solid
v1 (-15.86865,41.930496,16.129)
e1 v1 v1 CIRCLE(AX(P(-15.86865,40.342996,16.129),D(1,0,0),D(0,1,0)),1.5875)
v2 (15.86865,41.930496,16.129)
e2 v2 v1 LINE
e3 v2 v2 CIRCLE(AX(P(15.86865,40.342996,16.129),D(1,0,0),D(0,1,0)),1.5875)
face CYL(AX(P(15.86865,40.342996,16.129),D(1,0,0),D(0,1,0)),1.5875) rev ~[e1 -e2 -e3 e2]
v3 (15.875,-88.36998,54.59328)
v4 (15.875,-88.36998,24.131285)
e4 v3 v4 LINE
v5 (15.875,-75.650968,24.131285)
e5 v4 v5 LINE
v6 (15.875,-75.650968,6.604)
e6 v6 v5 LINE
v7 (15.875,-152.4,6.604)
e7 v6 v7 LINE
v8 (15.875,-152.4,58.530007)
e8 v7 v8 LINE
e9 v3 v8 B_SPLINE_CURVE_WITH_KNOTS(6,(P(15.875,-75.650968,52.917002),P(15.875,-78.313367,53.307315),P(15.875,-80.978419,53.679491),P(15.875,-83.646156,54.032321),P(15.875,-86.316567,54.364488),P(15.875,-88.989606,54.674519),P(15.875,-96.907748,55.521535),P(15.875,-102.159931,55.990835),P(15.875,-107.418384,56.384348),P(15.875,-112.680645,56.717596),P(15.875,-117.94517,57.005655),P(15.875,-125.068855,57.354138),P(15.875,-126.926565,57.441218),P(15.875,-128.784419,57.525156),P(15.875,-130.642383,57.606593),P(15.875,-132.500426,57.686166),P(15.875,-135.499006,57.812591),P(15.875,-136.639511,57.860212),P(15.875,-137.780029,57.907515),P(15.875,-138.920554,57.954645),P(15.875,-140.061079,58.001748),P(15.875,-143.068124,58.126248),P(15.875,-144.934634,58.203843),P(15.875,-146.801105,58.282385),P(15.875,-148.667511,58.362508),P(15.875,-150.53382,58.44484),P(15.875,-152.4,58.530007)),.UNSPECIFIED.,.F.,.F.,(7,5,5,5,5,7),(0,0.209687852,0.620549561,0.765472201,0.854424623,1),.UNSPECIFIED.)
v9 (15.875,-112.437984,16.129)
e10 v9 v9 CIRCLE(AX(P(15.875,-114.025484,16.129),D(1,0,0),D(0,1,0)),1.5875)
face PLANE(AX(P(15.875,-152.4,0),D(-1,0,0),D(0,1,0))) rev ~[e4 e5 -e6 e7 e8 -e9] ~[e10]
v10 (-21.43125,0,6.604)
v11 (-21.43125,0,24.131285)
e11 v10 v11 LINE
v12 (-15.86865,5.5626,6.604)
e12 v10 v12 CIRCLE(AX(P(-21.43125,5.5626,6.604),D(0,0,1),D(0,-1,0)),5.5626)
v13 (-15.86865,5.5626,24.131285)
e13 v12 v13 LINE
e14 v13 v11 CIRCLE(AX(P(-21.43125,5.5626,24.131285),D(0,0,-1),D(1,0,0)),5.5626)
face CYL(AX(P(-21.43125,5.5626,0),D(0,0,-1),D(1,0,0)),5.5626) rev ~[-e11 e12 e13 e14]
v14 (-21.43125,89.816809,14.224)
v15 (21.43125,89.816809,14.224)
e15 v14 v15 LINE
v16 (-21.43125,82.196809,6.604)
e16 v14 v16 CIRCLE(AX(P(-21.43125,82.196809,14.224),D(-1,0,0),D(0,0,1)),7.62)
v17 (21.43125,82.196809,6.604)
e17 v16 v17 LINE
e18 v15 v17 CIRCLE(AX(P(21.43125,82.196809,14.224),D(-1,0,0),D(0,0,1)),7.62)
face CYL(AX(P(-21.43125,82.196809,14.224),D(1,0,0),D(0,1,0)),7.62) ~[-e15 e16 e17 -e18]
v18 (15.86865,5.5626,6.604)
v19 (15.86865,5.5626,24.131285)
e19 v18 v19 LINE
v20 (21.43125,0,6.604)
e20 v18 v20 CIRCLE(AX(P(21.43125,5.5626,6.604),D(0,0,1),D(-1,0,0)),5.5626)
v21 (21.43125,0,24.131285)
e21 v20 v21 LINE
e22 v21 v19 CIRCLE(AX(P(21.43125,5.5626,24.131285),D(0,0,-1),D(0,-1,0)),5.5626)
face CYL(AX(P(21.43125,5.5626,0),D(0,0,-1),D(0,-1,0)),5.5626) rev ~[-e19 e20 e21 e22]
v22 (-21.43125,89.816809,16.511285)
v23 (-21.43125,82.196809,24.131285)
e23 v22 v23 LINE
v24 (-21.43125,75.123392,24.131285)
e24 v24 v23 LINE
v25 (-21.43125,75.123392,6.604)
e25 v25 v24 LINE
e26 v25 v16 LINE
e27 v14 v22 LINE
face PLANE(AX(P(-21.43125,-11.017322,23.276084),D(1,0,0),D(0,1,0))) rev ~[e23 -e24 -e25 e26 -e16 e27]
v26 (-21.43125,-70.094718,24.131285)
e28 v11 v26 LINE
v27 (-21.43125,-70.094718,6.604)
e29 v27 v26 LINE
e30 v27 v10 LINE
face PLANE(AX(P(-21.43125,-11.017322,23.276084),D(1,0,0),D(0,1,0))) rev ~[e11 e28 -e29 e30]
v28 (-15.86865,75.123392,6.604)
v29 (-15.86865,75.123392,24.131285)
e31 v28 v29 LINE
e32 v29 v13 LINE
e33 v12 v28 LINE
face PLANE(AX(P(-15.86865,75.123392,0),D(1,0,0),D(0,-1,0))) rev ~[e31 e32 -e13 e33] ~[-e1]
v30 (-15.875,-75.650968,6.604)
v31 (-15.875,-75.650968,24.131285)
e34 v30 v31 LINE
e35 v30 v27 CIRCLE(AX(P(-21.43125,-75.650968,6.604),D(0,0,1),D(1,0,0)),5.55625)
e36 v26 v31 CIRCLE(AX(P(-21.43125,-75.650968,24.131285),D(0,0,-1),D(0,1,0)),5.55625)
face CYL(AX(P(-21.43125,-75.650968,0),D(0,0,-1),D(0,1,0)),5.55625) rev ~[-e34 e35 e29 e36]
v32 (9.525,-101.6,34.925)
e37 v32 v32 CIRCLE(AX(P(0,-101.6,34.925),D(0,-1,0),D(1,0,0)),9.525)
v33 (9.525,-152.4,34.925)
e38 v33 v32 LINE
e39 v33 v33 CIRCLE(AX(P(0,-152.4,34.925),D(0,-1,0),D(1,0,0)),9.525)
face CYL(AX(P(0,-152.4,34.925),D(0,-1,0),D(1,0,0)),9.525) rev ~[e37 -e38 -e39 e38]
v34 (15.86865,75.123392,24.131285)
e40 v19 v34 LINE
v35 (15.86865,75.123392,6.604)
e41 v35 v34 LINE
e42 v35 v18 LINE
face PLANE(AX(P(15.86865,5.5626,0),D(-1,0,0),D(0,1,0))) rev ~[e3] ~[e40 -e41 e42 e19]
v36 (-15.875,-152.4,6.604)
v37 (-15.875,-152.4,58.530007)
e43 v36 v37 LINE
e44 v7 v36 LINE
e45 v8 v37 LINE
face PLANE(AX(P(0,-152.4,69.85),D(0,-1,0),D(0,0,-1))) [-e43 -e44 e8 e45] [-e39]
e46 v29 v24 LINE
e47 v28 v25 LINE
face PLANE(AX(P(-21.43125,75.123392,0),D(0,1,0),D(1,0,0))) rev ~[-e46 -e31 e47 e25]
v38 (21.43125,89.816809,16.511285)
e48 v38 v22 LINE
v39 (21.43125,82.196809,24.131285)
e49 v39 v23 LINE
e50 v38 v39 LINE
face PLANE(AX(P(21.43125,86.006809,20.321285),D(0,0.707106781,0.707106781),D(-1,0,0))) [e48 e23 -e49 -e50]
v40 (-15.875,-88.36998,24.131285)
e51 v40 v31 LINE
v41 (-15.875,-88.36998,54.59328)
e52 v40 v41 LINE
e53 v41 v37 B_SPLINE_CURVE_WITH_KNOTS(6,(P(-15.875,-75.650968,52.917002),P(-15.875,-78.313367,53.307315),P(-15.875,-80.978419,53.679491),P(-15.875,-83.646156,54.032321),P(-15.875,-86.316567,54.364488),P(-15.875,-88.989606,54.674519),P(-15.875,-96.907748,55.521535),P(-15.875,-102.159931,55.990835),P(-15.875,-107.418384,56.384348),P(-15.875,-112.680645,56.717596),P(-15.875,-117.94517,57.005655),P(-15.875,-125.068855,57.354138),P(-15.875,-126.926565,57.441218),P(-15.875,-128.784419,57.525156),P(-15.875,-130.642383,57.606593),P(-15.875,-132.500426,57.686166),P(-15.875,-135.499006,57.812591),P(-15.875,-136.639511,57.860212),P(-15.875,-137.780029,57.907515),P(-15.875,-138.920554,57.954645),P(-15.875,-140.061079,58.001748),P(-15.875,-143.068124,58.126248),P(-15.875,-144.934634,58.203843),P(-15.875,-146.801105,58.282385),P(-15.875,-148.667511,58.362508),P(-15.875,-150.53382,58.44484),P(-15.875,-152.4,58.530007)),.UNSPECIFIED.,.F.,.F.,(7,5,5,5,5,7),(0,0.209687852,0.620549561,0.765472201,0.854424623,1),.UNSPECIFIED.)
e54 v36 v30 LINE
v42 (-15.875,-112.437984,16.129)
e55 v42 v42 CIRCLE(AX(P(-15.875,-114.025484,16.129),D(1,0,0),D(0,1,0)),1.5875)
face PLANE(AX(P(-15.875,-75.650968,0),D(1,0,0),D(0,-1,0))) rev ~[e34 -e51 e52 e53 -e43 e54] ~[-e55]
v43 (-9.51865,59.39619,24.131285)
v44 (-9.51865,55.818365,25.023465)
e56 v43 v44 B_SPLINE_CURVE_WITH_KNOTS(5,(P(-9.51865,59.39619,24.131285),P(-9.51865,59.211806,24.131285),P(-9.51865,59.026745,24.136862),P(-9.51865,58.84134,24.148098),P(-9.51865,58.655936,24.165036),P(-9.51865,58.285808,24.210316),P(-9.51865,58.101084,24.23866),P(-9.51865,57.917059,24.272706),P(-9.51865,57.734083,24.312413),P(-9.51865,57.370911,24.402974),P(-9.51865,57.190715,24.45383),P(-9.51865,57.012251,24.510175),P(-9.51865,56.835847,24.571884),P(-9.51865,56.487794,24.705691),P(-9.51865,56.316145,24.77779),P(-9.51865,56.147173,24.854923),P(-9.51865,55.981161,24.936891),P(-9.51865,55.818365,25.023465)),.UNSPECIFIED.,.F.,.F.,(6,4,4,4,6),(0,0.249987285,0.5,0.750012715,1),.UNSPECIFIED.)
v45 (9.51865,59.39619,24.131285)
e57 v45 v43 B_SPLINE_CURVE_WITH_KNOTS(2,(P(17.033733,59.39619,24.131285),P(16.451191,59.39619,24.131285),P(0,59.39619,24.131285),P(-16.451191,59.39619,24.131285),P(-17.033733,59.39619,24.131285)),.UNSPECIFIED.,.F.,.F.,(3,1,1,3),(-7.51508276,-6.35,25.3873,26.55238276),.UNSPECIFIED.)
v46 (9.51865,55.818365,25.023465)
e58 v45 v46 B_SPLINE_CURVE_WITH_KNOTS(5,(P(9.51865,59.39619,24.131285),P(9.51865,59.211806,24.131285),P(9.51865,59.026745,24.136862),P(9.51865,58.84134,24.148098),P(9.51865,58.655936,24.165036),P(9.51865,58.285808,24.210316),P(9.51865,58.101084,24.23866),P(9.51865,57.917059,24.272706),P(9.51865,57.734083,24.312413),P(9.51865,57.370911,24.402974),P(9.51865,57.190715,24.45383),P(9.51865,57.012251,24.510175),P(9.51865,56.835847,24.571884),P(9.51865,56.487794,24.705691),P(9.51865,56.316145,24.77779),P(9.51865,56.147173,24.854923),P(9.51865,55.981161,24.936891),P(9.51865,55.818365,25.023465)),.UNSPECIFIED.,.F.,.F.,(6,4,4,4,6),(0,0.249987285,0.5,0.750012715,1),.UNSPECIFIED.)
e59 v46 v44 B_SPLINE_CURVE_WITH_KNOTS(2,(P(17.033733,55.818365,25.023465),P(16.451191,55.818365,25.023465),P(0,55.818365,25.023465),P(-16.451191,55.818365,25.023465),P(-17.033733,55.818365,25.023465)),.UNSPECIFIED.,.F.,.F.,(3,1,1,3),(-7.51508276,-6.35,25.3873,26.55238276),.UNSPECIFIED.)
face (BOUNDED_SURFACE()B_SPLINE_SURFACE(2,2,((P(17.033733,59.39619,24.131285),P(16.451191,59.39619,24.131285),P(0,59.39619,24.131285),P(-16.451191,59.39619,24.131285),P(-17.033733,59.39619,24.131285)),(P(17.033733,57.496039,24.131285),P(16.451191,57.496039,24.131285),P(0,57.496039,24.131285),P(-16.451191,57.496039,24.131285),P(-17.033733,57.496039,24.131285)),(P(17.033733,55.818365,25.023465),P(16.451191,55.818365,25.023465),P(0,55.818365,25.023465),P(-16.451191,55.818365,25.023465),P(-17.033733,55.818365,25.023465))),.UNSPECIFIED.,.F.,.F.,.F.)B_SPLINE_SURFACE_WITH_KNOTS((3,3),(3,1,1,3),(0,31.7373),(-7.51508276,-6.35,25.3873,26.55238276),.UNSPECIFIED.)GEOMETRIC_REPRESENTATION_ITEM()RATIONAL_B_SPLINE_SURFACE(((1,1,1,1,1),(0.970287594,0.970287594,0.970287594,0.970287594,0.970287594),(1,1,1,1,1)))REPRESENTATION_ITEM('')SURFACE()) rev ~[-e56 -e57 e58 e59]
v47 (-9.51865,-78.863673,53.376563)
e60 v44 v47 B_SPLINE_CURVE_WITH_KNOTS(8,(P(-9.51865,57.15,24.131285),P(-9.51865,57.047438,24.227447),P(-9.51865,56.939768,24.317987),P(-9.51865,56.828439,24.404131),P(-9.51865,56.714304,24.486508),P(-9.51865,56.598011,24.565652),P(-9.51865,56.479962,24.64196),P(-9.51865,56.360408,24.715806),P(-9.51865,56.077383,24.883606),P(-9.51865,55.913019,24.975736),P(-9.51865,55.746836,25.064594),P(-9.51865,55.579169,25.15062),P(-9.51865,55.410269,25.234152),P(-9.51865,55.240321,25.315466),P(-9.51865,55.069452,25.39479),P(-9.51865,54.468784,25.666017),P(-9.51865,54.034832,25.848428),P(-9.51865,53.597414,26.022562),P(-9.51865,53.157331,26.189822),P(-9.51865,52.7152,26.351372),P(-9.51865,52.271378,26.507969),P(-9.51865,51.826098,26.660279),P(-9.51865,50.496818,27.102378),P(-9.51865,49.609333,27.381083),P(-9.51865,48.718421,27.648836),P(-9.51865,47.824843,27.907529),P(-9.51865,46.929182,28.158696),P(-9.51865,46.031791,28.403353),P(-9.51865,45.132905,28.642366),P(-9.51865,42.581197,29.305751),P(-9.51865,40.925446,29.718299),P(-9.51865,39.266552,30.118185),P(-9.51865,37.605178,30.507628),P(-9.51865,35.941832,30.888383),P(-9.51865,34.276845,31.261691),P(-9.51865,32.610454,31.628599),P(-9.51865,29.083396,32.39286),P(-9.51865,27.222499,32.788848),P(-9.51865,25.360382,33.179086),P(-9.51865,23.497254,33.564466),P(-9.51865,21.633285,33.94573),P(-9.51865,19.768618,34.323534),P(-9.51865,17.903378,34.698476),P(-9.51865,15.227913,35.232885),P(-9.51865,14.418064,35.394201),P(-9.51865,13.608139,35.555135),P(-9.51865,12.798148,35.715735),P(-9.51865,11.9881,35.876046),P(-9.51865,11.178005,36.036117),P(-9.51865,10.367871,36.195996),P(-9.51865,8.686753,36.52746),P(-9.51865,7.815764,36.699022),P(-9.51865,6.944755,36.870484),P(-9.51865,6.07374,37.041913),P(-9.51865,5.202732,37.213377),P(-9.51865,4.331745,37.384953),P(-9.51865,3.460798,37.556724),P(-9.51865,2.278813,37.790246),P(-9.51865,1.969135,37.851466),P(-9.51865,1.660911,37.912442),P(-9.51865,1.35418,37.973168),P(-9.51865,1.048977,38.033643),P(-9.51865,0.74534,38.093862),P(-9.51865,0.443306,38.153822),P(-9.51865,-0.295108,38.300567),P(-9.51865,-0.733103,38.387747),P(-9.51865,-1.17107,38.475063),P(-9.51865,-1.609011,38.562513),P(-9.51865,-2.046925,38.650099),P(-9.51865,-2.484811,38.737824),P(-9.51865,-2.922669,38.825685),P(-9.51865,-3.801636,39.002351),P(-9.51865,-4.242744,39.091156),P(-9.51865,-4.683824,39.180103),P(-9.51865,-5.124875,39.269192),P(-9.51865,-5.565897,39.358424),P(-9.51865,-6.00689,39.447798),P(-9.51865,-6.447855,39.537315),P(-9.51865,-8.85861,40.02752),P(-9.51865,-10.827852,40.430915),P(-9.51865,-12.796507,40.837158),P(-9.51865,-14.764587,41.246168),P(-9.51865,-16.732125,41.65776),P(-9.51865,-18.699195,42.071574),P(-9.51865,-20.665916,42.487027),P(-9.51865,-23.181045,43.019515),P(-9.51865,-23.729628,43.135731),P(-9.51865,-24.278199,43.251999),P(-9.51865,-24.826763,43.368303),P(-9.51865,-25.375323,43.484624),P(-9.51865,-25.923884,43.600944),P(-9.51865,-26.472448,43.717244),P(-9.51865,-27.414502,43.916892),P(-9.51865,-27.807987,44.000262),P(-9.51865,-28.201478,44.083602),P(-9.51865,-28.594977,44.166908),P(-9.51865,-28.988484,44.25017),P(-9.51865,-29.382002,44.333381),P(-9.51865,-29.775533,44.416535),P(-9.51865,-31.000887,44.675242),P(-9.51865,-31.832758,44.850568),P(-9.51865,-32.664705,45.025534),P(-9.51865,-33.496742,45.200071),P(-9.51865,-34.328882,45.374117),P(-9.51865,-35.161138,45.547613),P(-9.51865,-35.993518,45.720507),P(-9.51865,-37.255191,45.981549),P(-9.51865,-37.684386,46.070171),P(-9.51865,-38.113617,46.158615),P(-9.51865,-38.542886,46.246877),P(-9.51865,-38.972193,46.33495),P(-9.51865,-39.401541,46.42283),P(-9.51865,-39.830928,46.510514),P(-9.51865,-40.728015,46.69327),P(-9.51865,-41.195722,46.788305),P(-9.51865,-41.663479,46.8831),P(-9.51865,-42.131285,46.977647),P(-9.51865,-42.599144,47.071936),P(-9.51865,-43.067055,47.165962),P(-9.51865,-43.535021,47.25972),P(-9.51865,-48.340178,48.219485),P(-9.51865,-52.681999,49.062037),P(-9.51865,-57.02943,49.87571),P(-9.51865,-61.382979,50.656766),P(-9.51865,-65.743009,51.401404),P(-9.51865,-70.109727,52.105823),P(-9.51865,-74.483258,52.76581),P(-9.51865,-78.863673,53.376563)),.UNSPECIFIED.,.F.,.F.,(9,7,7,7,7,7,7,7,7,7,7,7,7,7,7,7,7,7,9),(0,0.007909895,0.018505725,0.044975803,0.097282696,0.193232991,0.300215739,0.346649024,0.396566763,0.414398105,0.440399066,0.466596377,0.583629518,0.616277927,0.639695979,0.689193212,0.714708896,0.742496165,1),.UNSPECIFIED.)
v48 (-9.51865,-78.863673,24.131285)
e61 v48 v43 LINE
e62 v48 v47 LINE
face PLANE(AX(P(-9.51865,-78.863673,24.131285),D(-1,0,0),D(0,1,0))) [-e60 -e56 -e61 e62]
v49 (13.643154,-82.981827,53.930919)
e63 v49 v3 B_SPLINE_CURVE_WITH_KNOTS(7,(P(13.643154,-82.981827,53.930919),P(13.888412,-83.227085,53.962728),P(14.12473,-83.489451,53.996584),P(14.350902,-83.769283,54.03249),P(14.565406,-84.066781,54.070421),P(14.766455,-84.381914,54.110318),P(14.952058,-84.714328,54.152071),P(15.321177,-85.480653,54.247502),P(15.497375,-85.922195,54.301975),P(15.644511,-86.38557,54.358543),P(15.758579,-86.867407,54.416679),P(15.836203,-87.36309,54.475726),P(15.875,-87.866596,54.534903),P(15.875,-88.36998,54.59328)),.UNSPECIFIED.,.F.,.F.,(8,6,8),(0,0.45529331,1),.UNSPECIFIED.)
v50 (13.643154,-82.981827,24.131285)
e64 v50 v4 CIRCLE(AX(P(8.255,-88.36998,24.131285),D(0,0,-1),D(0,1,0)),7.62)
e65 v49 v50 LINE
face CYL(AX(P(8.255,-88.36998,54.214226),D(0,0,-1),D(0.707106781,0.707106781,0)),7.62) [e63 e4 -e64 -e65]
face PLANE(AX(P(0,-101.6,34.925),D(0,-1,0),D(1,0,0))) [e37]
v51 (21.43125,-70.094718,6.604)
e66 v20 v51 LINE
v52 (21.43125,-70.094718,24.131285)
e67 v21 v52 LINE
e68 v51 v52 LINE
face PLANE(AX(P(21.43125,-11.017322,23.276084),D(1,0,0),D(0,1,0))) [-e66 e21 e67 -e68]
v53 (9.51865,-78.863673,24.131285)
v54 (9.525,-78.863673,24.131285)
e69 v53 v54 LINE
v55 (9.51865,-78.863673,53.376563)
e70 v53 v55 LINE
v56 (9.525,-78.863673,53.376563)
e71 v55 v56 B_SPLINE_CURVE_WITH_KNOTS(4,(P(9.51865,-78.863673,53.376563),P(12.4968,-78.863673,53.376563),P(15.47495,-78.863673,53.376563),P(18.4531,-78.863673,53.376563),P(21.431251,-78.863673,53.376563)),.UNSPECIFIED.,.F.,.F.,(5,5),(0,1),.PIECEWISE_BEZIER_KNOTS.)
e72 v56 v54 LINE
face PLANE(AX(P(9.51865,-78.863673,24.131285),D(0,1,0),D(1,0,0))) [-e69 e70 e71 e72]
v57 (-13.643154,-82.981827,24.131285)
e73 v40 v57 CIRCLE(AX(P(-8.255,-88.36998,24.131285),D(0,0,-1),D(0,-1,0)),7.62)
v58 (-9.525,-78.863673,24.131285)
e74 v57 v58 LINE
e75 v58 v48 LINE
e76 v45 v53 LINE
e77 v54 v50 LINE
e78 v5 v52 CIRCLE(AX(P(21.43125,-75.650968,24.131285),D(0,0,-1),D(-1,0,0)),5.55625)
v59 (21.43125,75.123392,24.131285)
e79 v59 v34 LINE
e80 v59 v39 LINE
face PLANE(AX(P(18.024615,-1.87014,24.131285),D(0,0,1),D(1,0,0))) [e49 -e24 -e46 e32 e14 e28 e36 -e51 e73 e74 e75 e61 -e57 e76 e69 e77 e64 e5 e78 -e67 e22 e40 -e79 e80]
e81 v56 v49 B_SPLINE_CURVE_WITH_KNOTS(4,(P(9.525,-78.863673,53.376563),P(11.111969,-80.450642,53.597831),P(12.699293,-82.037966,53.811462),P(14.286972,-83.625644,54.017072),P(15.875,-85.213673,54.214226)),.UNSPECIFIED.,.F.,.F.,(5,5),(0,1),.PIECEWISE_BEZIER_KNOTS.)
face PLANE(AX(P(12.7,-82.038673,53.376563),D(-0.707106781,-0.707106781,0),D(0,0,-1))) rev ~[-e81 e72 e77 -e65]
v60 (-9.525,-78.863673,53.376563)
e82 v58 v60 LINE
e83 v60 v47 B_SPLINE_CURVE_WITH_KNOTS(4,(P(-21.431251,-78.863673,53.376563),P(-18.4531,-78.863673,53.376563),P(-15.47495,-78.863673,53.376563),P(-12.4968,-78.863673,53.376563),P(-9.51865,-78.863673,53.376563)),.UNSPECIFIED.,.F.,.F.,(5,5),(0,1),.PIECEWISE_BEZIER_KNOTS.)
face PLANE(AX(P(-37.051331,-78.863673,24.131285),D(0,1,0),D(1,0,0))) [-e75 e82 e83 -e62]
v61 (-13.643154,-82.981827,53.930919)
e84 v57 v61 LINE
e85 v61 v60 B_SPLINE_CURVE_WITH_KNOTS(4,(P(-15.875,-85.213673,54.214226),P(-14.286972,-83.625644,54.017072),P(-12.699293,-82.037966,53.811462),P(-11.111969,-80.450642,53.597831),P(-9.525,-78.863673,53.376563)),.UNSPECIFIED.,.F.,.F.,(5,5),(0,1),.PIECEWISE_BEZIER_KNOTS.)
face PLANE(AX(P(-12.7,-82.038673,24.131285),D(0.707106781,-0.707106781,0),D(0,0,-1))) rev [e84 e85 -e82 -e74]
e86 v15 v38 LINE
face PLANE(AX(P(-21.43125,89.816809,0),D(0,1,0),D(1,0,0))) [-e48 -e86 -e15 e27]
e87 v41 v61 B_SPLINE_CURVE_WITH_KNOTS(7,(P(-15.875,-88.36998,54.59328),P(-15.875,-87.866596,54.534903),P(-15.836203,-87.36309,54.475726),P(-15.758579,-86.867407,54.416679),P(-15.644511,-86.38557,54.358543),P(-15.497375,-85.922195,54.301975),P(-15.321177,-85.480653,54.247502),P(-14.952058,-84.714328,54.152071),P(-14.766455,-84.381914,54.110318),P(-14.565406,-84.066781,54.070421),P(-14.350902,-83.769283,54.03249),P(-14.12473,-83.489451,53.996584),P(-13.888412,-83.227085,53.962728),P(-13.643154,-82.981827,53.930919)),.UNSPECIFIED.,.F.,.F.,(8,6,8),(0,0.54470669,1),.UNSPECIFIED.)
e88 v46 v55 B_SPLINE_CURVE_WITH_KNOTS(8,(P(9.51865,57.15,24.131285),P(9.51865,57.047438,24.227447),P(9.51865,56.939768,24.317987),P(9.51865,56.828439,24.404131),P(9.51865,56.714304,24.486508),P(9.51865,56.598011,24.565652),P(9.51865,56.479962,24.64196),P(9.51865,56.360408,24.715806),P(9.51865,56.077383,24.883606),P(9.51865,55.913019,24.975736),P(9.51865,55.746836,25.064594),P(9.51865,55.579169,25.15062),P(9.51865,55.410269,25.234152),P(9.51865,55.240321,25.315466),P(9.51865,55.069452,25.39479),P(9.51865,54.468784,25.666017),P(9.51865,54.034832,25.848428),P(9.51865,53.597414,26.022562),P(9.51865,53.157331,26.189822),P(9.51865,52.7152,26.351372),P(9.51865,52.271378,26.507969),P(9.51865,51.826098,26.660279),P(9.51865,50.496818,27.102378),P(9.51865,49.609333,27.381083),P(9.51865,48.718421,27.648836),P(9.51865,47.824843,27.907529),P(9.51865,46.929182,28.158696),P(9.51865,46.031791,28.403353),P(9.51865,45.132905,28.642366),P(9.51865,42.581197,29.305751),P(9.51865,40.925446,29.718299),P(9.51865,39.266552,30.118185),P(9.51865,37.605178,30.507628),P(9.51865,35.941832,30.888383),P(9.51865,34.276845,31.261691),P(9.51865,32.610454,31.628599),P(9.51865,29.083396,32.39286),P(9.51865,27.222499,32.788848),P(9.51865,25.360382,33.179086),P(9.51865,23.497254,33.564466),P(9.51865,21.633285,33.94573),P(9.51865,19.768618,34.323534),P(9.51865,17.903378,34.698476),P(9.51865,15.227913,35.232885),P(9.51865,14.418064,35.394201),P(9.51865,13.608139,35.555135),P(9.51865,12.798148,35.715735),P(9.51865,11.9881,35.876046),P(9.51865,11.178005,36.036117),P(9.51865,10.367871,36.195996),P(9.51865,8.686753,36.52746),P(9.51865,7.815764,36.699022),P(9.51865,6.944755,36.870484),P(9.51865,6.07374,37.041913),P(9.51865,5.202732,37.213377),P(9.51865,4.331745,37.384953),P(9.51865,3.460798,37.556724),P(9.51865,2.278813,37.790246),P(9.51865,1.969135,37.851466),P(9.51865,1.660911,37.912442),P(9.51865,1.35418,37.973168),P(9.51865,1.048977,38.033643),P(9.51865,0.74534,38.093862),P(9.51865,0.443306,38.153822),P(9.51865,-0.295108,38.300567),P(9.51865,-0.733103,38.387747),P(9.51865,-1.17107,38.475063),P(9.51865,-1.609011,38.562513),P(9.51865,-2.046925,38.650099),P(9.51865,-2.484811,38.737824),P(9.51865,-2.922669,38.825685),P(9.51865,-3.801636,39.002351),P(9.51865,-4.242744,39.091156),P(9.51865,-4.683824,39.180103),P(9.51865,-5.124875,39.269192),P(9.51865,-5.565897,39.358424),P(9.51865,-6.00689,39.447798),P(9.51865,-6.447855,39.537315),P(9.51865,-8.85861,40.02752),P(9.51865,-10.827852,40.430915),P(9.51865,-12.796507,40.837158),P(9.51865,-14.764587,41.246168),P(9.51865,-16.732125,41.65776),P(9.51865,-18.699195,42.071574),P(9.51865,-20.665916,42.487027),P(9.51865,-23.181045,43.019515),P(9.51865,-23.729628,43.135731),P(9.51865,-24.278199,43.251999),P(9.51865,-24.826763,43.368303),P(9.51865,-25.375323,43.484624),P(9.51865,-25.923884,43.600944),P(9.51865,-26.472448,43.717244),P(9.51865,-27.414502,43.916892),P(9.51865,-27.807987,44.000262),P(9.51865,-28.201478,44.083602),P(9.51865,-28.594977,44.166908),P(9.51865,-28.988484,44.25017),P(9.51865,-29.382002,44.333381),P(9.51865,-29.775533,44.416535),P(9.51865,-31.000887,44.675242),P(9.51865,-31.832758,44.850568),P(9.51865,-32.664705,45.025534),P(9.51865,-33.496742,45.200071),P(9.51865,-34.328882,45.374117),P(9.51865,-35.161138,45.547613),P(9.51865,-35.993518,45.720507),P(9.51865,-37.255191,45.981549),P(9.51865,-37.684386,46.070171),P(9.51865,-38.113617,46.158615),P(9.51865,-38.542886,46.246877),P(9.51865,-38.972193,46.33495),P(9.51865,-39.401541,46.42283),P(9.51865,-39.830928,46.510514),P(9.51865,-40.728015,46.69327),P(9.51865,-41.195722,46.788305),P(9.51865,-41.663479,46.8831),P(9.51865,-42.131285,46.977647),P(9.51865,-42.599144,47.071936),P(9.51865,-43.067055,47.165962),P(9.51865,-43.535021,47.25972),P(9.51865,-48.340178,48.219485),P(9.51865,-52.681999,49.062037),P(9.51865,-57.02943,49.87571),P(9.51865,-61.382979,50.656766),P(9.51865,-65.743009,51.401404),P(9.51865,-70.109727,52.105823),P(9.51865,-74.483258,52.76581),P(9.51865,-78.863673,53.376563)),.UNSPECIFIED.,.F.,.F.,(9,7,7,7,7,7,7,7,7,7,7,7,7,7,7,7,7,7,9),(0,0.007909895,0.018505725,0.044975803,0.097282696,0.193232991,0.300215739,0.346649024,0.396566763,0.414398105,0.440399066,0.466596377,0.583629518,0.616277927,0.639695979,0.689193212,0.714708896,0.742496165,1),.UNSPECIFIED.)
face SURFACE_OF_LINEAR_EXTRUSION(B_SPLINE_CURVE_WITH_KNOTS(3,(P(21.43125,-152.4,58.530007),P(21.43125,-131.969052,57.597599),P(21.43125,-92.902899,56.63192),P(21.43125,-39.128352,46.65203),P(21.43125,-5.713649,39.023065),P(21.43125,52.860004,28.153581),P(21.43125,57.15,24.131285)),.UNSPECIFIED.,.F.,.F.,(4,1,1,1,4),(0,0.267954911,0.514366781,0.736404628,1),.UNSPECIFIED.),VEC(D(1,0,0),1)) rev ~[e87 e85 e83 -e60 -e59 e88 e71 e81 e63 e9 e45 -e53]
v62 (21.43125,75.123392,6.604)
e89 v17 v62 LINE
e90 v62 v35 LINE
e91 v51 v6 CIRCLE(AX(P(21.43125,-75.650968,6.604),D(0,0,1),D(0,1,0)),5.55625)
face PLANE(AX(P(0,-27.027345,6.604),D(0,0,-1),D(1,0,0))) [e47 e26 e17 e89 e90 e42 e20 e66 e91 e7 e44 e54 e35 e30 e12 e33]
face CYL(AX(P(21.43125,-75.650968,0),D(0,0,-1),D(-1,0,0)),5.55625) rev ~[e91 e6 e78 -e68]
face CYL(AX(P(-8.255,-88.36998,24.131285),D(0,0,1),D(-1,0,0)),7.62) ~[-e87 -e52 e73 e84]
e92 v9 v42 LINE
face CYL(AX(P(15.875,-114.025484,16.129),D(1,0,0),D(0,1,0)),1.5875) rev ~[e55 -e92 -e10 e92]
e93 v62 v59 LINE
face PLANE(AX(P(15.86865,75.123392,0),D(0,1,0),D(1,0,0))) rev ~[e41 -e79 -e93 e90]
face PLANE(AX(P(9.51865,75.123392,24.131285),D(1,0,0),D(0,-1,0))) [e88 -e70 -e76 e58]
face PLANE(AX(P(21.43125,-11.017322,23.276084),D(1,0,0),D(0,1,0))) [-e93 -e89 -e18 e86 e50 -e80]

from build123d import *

# Parameters (mm, degrees)
F1_DEPTH  = 21.43125
F2_R      = 9.525
F3_DEPTH  = 50.8
F5_W      = 42.8625
F5_H      = 62.5831912994
F7_DEPTH  = 117.856
F8_W      = 5.55625
F8_H      = 69.85
F9_DEPTH  = 25.4
F10_DEPTH = 78.232
F12_DEPTH = 65.786
F14_DEPTH = 70.104
F16_DEPTH = 6.604
F17_SIZE  = 7.62
F18_R     = 7.62
F19_SIZE  = 6.35
F20_R     = 7.62
F21_R     = 1.5875
F22_DEPTH = 32.258
F23_R     = 1.5875
F24_DEPTH = 36.068


with BuildPart() as f1:
    # F0 (on Right) → F1 (new body, symmetric)
    with BuildSketch(Plane.YZ):
        Polygon((-152.4, 69.85), (-152.4, 0), (152.4, 0), (152.4, 19.05), align=None)
    extrude(amount=F1_DEPTH, both=True)

    # F2 (on face) → F3 (cut)
    with BuildSketch(Plane.XZ.offset(152.4)):
        with Locations((0, 34.925)):
            Circle(F2_R)
    extrude(amount=-F3_DEPTH, mode=Mode.SUBTRACT)

    # F5 (on face) → F7 (cut)
    with BuildSketch(Plane(origin=(0, 0, 0), x_dir=(1, 0, 0), z_dir=(0, 0, -1))):
        with BuildLine():
            Line((-15.875, 75.6509676576), (-15.875, 95.25))
            Line((-15.875, 95.25), (-15.875, 152.4))
            Line((-15.875, 152.4), (-21.43125, 152.1471400823))
            Line((-21.43125, 152.1471400823), (-21.43125, 70.0947176576))
            ThreePointArc((-21.43125, 70.0947176576), (-17.502387947, 71.7221056046), (-15.875, 75.6509676576))
        make_face()
        with BuildLine():
            Line((15.86865, -75.1233920455), (21.43125, -75.1233920455))
            Line((21.43125, -75.1233920455), (21.43125, -5.5626))
            Line((21.43125, -5.5626), (21.43125, 0))
            ThreePointArc((21.43125, 0), (17.497897819, -1.629247819), (15.86865, -5.5626))
            Line((15.86865, -5.5626), (15.86865, -43.3772839606))
            Line((15.86865, -43.3772839606), (15.86865, -75.1233920455))
        make_face()
        with Locations((0, -121.1084043503)):
            Rectangle(F5_W, F5_H)
        with BuildLine():
            ThreePointArc((-15.86865, -5.5626), (-17.497897819, -1.629247819), (-21.43125, 0))
            Line((-21.43125, 0), (-21.43125, -75.1233920455))
            Line((-21.43125, -75.1233920455), (-15.86865, -75.1233920455))
            Line((-15.86865, -75.1233920455), (-15.86865, -43.3772839606))
            Line((-15.86865, -43.3772839606), (-15.86865, -5.5626))
        make_face()
        with BuildLine():
            Line((21.43125, 152.4), (15.875, 152.4))
            Line((15.875, 152.4), (15.875, 95.25))
            Line((15.875, 95.25), (15.875, 75.6509676576))
            ThreePointArc((15.875, 75.6509676576), (17.502387947, 71.7221056046), (21.43125, 70.0947176576))
            Line((21.43125, 70.0947176576), (21.43125, 152.4))
        make_face()
    extrude(amount=-F7_DEPTH, mode=Mode.SUBTRACT)

    # F8 (on face) → F9 (cut)
    with BuildSketch(Plane.XZ.offset(152.4)):
        with Locations((-18.653125, 34.925)):
            Rectangle(F8_W, F8_H)
    extrude(amount=-F9_DEPTH, mode=Mode.SUBTRACT)

    # F4 (on face) → F10 (cut)
    with BuildSketch(Plane.YZ.offset(21.43125)):
        with BuildLine():
            Line((-166.5327996016, 95.561735332), (-152.4, 58.5300065577))
            add(Edge.make_bspline(
                [(-152.4, 58.5300065577), (-131.9690523131, 57.5975989918), (-92.9028985073, 56.6319201488), (-39.12835213, 46.6520301008), (-5.7136492039, 39.0230650087), (52.8600042471, 28.1535812859), (57.15, 24.1312850267)],
                knots=[0, 0, 0, 0, 0.2679549114, 0.514366781, 0.7364046279, 1, 1, 1, 1], degree=3))
            Line((57.15, 24.1312850267), (166.3713157177, 24.1312850267))
            Line((166.3713157177, 24.1312850267), (-166.5327996016, 95.561735332))
        make_face()
    extrude(amount=-F10_DEPTH, mode=Mode.SUBTRACT)

    # F11 (on face) → F12 (cut)
    with BuildSketch(Plane.XY.offset(24.1312850267)):
        Polygon((26.5305805951, 75.1233920455), (15.86865, 75.1233920455), (9.51865, 75.1233920455), (9.51865, -78.8636729121), (26.5305805951, -78.8636729121), align=None)
    extrude(amount=F12_DEPTH, mode=Mode.SUBTRACT)

    # F13 (on face) → F14 (cut)
    with BuildSketch(Plane.XY.offset(24.1312850267)):
        Polygon((-9.51865, 57.15), (-15.86865, 57.15), (-28.360279277, 57.15), (-37.0513312519, -78.8636729121), (-9.51865, -78.8636729121), align=None)
    extrude(amount=F14_DEPTH, mode=Mode.SUBTRACT)

    # F6 (on face) → F16 (cut)
    with BuildSketch(Plane(origin=(0, 0, 0), x_dir=(1, 0, 0), z_dir=(0, 0, -1))):
        with BuildLine():
            Line((15.875, 75.6509676576), (15.875, 95.25))
            Line((15.875, 95.25), (15.875, 152.4))
            Line((15.875, 152.4), (-15.875, 152.4))
            Line((-15.875, 152.4), (-15.875, 95.25))
            Line((-15.875, 95.25), (-15.875, 75.6509676576))
            ThreePointArc((-15.875, 75.6509676576), (-17.502387947, 71.7221056046), (-21.43125, 70.0947176576))
            Line((-21.43125, 70.0947176576), (-21.43125, 0))
            ThreePointArc((-21.43125, 0), (-17.497897819, -1.629247819), (-15.86865, -5.5626))
            Line((-15.86865, -5.5626), (-15.86865, -43.3772839606))
            Line((-15.86865, -43.3772839606), (-15.86865, -75.1233920455))
            Line((-15.86865, -75.1233920455), (-21.43125, -75.1233920455))
            Line((-21.43125, -75.1233920455), (-21.43125, -89.8168087006))
            Line((-21.43125, -89.8168087006), (21.43125, -89.8168087006))
            Line((21.43125, -89.8168087006), (21.43125, -75.1233920455))
            Line((21.43125, -75.1233920455), (15.86865, -75.1233920455))
            Line((15.86865, -75.1233920455), (15.86865, -43.3772839606))
            Line((15.86865, -43.3772839606), (15.86865, -5.5626))
            ThreePointArc((15.86865, -5.5626), (17.497897819, -1.629247819), (21.43125, 0))
            Line((21.43125, 0), (21.43125, 70.0947176576))
            ThreePointArc((21.43125, 70.0947176576), (17.502387947, 71.7221056046), (15.875, 75.6509676576))
        make_face()
    extrude(amount=-F16_DEPTH, mode=Mode.SUBTRACT)

    # F17
    f17_edges = [f1.edges().sort_by_distance(p)[0] for p in [
        (0, 89.816809, 24.131285),
    ]]
    chamfer(f17_edges, length=F17_SIZE)

    # F18
    f18_edges = [f1.edges().sort_by_distance(p)[0] for p in [
        (0, 89.816809, 6.604),
        (0, 57.15, 24.131285),
    ]]
    fillet(f18_edges, radius=F18_R)

    # F19
    f19_edges = [f1.edges().sort_by_distance(p)[0] for p in [
        (-15.875, -78.863673, 38.753924),
        (15.875, -78.863673, 38.753924),
    ]]
    chamfer(f19_edges, length=F19_SIZE)

    # F20
    f20_edges = [f1.edges().sort_by_distance(p)[0] for p in [
        (-15.875, -85.213673, 39.172756),
        (15.875, -85.213673, 39.172756),
    ]]
    fillet(f20_edges, radius=F20_R)

    # F21 (on face) → F22 (cut)
    with BuildSketch(Plane.YZ.offset(15.875)):
        with Locations((-114.0254838288, 16.129)):
            Circle(F21_R)
    extrude(amount=-F22_DEPTH, mode=Mode.SUBTRACT)

    # F23 (on face) → F24 (cut)
    with BuildSketch(Plane.YZ.offset(15.86865)):
        with Locations((40.3429960227, 16.129)):
            Circle(F23_R)
    extrude(amount=-F24_DEPTH, mode=Mode.SUBTRACT)


solid = f1.part
